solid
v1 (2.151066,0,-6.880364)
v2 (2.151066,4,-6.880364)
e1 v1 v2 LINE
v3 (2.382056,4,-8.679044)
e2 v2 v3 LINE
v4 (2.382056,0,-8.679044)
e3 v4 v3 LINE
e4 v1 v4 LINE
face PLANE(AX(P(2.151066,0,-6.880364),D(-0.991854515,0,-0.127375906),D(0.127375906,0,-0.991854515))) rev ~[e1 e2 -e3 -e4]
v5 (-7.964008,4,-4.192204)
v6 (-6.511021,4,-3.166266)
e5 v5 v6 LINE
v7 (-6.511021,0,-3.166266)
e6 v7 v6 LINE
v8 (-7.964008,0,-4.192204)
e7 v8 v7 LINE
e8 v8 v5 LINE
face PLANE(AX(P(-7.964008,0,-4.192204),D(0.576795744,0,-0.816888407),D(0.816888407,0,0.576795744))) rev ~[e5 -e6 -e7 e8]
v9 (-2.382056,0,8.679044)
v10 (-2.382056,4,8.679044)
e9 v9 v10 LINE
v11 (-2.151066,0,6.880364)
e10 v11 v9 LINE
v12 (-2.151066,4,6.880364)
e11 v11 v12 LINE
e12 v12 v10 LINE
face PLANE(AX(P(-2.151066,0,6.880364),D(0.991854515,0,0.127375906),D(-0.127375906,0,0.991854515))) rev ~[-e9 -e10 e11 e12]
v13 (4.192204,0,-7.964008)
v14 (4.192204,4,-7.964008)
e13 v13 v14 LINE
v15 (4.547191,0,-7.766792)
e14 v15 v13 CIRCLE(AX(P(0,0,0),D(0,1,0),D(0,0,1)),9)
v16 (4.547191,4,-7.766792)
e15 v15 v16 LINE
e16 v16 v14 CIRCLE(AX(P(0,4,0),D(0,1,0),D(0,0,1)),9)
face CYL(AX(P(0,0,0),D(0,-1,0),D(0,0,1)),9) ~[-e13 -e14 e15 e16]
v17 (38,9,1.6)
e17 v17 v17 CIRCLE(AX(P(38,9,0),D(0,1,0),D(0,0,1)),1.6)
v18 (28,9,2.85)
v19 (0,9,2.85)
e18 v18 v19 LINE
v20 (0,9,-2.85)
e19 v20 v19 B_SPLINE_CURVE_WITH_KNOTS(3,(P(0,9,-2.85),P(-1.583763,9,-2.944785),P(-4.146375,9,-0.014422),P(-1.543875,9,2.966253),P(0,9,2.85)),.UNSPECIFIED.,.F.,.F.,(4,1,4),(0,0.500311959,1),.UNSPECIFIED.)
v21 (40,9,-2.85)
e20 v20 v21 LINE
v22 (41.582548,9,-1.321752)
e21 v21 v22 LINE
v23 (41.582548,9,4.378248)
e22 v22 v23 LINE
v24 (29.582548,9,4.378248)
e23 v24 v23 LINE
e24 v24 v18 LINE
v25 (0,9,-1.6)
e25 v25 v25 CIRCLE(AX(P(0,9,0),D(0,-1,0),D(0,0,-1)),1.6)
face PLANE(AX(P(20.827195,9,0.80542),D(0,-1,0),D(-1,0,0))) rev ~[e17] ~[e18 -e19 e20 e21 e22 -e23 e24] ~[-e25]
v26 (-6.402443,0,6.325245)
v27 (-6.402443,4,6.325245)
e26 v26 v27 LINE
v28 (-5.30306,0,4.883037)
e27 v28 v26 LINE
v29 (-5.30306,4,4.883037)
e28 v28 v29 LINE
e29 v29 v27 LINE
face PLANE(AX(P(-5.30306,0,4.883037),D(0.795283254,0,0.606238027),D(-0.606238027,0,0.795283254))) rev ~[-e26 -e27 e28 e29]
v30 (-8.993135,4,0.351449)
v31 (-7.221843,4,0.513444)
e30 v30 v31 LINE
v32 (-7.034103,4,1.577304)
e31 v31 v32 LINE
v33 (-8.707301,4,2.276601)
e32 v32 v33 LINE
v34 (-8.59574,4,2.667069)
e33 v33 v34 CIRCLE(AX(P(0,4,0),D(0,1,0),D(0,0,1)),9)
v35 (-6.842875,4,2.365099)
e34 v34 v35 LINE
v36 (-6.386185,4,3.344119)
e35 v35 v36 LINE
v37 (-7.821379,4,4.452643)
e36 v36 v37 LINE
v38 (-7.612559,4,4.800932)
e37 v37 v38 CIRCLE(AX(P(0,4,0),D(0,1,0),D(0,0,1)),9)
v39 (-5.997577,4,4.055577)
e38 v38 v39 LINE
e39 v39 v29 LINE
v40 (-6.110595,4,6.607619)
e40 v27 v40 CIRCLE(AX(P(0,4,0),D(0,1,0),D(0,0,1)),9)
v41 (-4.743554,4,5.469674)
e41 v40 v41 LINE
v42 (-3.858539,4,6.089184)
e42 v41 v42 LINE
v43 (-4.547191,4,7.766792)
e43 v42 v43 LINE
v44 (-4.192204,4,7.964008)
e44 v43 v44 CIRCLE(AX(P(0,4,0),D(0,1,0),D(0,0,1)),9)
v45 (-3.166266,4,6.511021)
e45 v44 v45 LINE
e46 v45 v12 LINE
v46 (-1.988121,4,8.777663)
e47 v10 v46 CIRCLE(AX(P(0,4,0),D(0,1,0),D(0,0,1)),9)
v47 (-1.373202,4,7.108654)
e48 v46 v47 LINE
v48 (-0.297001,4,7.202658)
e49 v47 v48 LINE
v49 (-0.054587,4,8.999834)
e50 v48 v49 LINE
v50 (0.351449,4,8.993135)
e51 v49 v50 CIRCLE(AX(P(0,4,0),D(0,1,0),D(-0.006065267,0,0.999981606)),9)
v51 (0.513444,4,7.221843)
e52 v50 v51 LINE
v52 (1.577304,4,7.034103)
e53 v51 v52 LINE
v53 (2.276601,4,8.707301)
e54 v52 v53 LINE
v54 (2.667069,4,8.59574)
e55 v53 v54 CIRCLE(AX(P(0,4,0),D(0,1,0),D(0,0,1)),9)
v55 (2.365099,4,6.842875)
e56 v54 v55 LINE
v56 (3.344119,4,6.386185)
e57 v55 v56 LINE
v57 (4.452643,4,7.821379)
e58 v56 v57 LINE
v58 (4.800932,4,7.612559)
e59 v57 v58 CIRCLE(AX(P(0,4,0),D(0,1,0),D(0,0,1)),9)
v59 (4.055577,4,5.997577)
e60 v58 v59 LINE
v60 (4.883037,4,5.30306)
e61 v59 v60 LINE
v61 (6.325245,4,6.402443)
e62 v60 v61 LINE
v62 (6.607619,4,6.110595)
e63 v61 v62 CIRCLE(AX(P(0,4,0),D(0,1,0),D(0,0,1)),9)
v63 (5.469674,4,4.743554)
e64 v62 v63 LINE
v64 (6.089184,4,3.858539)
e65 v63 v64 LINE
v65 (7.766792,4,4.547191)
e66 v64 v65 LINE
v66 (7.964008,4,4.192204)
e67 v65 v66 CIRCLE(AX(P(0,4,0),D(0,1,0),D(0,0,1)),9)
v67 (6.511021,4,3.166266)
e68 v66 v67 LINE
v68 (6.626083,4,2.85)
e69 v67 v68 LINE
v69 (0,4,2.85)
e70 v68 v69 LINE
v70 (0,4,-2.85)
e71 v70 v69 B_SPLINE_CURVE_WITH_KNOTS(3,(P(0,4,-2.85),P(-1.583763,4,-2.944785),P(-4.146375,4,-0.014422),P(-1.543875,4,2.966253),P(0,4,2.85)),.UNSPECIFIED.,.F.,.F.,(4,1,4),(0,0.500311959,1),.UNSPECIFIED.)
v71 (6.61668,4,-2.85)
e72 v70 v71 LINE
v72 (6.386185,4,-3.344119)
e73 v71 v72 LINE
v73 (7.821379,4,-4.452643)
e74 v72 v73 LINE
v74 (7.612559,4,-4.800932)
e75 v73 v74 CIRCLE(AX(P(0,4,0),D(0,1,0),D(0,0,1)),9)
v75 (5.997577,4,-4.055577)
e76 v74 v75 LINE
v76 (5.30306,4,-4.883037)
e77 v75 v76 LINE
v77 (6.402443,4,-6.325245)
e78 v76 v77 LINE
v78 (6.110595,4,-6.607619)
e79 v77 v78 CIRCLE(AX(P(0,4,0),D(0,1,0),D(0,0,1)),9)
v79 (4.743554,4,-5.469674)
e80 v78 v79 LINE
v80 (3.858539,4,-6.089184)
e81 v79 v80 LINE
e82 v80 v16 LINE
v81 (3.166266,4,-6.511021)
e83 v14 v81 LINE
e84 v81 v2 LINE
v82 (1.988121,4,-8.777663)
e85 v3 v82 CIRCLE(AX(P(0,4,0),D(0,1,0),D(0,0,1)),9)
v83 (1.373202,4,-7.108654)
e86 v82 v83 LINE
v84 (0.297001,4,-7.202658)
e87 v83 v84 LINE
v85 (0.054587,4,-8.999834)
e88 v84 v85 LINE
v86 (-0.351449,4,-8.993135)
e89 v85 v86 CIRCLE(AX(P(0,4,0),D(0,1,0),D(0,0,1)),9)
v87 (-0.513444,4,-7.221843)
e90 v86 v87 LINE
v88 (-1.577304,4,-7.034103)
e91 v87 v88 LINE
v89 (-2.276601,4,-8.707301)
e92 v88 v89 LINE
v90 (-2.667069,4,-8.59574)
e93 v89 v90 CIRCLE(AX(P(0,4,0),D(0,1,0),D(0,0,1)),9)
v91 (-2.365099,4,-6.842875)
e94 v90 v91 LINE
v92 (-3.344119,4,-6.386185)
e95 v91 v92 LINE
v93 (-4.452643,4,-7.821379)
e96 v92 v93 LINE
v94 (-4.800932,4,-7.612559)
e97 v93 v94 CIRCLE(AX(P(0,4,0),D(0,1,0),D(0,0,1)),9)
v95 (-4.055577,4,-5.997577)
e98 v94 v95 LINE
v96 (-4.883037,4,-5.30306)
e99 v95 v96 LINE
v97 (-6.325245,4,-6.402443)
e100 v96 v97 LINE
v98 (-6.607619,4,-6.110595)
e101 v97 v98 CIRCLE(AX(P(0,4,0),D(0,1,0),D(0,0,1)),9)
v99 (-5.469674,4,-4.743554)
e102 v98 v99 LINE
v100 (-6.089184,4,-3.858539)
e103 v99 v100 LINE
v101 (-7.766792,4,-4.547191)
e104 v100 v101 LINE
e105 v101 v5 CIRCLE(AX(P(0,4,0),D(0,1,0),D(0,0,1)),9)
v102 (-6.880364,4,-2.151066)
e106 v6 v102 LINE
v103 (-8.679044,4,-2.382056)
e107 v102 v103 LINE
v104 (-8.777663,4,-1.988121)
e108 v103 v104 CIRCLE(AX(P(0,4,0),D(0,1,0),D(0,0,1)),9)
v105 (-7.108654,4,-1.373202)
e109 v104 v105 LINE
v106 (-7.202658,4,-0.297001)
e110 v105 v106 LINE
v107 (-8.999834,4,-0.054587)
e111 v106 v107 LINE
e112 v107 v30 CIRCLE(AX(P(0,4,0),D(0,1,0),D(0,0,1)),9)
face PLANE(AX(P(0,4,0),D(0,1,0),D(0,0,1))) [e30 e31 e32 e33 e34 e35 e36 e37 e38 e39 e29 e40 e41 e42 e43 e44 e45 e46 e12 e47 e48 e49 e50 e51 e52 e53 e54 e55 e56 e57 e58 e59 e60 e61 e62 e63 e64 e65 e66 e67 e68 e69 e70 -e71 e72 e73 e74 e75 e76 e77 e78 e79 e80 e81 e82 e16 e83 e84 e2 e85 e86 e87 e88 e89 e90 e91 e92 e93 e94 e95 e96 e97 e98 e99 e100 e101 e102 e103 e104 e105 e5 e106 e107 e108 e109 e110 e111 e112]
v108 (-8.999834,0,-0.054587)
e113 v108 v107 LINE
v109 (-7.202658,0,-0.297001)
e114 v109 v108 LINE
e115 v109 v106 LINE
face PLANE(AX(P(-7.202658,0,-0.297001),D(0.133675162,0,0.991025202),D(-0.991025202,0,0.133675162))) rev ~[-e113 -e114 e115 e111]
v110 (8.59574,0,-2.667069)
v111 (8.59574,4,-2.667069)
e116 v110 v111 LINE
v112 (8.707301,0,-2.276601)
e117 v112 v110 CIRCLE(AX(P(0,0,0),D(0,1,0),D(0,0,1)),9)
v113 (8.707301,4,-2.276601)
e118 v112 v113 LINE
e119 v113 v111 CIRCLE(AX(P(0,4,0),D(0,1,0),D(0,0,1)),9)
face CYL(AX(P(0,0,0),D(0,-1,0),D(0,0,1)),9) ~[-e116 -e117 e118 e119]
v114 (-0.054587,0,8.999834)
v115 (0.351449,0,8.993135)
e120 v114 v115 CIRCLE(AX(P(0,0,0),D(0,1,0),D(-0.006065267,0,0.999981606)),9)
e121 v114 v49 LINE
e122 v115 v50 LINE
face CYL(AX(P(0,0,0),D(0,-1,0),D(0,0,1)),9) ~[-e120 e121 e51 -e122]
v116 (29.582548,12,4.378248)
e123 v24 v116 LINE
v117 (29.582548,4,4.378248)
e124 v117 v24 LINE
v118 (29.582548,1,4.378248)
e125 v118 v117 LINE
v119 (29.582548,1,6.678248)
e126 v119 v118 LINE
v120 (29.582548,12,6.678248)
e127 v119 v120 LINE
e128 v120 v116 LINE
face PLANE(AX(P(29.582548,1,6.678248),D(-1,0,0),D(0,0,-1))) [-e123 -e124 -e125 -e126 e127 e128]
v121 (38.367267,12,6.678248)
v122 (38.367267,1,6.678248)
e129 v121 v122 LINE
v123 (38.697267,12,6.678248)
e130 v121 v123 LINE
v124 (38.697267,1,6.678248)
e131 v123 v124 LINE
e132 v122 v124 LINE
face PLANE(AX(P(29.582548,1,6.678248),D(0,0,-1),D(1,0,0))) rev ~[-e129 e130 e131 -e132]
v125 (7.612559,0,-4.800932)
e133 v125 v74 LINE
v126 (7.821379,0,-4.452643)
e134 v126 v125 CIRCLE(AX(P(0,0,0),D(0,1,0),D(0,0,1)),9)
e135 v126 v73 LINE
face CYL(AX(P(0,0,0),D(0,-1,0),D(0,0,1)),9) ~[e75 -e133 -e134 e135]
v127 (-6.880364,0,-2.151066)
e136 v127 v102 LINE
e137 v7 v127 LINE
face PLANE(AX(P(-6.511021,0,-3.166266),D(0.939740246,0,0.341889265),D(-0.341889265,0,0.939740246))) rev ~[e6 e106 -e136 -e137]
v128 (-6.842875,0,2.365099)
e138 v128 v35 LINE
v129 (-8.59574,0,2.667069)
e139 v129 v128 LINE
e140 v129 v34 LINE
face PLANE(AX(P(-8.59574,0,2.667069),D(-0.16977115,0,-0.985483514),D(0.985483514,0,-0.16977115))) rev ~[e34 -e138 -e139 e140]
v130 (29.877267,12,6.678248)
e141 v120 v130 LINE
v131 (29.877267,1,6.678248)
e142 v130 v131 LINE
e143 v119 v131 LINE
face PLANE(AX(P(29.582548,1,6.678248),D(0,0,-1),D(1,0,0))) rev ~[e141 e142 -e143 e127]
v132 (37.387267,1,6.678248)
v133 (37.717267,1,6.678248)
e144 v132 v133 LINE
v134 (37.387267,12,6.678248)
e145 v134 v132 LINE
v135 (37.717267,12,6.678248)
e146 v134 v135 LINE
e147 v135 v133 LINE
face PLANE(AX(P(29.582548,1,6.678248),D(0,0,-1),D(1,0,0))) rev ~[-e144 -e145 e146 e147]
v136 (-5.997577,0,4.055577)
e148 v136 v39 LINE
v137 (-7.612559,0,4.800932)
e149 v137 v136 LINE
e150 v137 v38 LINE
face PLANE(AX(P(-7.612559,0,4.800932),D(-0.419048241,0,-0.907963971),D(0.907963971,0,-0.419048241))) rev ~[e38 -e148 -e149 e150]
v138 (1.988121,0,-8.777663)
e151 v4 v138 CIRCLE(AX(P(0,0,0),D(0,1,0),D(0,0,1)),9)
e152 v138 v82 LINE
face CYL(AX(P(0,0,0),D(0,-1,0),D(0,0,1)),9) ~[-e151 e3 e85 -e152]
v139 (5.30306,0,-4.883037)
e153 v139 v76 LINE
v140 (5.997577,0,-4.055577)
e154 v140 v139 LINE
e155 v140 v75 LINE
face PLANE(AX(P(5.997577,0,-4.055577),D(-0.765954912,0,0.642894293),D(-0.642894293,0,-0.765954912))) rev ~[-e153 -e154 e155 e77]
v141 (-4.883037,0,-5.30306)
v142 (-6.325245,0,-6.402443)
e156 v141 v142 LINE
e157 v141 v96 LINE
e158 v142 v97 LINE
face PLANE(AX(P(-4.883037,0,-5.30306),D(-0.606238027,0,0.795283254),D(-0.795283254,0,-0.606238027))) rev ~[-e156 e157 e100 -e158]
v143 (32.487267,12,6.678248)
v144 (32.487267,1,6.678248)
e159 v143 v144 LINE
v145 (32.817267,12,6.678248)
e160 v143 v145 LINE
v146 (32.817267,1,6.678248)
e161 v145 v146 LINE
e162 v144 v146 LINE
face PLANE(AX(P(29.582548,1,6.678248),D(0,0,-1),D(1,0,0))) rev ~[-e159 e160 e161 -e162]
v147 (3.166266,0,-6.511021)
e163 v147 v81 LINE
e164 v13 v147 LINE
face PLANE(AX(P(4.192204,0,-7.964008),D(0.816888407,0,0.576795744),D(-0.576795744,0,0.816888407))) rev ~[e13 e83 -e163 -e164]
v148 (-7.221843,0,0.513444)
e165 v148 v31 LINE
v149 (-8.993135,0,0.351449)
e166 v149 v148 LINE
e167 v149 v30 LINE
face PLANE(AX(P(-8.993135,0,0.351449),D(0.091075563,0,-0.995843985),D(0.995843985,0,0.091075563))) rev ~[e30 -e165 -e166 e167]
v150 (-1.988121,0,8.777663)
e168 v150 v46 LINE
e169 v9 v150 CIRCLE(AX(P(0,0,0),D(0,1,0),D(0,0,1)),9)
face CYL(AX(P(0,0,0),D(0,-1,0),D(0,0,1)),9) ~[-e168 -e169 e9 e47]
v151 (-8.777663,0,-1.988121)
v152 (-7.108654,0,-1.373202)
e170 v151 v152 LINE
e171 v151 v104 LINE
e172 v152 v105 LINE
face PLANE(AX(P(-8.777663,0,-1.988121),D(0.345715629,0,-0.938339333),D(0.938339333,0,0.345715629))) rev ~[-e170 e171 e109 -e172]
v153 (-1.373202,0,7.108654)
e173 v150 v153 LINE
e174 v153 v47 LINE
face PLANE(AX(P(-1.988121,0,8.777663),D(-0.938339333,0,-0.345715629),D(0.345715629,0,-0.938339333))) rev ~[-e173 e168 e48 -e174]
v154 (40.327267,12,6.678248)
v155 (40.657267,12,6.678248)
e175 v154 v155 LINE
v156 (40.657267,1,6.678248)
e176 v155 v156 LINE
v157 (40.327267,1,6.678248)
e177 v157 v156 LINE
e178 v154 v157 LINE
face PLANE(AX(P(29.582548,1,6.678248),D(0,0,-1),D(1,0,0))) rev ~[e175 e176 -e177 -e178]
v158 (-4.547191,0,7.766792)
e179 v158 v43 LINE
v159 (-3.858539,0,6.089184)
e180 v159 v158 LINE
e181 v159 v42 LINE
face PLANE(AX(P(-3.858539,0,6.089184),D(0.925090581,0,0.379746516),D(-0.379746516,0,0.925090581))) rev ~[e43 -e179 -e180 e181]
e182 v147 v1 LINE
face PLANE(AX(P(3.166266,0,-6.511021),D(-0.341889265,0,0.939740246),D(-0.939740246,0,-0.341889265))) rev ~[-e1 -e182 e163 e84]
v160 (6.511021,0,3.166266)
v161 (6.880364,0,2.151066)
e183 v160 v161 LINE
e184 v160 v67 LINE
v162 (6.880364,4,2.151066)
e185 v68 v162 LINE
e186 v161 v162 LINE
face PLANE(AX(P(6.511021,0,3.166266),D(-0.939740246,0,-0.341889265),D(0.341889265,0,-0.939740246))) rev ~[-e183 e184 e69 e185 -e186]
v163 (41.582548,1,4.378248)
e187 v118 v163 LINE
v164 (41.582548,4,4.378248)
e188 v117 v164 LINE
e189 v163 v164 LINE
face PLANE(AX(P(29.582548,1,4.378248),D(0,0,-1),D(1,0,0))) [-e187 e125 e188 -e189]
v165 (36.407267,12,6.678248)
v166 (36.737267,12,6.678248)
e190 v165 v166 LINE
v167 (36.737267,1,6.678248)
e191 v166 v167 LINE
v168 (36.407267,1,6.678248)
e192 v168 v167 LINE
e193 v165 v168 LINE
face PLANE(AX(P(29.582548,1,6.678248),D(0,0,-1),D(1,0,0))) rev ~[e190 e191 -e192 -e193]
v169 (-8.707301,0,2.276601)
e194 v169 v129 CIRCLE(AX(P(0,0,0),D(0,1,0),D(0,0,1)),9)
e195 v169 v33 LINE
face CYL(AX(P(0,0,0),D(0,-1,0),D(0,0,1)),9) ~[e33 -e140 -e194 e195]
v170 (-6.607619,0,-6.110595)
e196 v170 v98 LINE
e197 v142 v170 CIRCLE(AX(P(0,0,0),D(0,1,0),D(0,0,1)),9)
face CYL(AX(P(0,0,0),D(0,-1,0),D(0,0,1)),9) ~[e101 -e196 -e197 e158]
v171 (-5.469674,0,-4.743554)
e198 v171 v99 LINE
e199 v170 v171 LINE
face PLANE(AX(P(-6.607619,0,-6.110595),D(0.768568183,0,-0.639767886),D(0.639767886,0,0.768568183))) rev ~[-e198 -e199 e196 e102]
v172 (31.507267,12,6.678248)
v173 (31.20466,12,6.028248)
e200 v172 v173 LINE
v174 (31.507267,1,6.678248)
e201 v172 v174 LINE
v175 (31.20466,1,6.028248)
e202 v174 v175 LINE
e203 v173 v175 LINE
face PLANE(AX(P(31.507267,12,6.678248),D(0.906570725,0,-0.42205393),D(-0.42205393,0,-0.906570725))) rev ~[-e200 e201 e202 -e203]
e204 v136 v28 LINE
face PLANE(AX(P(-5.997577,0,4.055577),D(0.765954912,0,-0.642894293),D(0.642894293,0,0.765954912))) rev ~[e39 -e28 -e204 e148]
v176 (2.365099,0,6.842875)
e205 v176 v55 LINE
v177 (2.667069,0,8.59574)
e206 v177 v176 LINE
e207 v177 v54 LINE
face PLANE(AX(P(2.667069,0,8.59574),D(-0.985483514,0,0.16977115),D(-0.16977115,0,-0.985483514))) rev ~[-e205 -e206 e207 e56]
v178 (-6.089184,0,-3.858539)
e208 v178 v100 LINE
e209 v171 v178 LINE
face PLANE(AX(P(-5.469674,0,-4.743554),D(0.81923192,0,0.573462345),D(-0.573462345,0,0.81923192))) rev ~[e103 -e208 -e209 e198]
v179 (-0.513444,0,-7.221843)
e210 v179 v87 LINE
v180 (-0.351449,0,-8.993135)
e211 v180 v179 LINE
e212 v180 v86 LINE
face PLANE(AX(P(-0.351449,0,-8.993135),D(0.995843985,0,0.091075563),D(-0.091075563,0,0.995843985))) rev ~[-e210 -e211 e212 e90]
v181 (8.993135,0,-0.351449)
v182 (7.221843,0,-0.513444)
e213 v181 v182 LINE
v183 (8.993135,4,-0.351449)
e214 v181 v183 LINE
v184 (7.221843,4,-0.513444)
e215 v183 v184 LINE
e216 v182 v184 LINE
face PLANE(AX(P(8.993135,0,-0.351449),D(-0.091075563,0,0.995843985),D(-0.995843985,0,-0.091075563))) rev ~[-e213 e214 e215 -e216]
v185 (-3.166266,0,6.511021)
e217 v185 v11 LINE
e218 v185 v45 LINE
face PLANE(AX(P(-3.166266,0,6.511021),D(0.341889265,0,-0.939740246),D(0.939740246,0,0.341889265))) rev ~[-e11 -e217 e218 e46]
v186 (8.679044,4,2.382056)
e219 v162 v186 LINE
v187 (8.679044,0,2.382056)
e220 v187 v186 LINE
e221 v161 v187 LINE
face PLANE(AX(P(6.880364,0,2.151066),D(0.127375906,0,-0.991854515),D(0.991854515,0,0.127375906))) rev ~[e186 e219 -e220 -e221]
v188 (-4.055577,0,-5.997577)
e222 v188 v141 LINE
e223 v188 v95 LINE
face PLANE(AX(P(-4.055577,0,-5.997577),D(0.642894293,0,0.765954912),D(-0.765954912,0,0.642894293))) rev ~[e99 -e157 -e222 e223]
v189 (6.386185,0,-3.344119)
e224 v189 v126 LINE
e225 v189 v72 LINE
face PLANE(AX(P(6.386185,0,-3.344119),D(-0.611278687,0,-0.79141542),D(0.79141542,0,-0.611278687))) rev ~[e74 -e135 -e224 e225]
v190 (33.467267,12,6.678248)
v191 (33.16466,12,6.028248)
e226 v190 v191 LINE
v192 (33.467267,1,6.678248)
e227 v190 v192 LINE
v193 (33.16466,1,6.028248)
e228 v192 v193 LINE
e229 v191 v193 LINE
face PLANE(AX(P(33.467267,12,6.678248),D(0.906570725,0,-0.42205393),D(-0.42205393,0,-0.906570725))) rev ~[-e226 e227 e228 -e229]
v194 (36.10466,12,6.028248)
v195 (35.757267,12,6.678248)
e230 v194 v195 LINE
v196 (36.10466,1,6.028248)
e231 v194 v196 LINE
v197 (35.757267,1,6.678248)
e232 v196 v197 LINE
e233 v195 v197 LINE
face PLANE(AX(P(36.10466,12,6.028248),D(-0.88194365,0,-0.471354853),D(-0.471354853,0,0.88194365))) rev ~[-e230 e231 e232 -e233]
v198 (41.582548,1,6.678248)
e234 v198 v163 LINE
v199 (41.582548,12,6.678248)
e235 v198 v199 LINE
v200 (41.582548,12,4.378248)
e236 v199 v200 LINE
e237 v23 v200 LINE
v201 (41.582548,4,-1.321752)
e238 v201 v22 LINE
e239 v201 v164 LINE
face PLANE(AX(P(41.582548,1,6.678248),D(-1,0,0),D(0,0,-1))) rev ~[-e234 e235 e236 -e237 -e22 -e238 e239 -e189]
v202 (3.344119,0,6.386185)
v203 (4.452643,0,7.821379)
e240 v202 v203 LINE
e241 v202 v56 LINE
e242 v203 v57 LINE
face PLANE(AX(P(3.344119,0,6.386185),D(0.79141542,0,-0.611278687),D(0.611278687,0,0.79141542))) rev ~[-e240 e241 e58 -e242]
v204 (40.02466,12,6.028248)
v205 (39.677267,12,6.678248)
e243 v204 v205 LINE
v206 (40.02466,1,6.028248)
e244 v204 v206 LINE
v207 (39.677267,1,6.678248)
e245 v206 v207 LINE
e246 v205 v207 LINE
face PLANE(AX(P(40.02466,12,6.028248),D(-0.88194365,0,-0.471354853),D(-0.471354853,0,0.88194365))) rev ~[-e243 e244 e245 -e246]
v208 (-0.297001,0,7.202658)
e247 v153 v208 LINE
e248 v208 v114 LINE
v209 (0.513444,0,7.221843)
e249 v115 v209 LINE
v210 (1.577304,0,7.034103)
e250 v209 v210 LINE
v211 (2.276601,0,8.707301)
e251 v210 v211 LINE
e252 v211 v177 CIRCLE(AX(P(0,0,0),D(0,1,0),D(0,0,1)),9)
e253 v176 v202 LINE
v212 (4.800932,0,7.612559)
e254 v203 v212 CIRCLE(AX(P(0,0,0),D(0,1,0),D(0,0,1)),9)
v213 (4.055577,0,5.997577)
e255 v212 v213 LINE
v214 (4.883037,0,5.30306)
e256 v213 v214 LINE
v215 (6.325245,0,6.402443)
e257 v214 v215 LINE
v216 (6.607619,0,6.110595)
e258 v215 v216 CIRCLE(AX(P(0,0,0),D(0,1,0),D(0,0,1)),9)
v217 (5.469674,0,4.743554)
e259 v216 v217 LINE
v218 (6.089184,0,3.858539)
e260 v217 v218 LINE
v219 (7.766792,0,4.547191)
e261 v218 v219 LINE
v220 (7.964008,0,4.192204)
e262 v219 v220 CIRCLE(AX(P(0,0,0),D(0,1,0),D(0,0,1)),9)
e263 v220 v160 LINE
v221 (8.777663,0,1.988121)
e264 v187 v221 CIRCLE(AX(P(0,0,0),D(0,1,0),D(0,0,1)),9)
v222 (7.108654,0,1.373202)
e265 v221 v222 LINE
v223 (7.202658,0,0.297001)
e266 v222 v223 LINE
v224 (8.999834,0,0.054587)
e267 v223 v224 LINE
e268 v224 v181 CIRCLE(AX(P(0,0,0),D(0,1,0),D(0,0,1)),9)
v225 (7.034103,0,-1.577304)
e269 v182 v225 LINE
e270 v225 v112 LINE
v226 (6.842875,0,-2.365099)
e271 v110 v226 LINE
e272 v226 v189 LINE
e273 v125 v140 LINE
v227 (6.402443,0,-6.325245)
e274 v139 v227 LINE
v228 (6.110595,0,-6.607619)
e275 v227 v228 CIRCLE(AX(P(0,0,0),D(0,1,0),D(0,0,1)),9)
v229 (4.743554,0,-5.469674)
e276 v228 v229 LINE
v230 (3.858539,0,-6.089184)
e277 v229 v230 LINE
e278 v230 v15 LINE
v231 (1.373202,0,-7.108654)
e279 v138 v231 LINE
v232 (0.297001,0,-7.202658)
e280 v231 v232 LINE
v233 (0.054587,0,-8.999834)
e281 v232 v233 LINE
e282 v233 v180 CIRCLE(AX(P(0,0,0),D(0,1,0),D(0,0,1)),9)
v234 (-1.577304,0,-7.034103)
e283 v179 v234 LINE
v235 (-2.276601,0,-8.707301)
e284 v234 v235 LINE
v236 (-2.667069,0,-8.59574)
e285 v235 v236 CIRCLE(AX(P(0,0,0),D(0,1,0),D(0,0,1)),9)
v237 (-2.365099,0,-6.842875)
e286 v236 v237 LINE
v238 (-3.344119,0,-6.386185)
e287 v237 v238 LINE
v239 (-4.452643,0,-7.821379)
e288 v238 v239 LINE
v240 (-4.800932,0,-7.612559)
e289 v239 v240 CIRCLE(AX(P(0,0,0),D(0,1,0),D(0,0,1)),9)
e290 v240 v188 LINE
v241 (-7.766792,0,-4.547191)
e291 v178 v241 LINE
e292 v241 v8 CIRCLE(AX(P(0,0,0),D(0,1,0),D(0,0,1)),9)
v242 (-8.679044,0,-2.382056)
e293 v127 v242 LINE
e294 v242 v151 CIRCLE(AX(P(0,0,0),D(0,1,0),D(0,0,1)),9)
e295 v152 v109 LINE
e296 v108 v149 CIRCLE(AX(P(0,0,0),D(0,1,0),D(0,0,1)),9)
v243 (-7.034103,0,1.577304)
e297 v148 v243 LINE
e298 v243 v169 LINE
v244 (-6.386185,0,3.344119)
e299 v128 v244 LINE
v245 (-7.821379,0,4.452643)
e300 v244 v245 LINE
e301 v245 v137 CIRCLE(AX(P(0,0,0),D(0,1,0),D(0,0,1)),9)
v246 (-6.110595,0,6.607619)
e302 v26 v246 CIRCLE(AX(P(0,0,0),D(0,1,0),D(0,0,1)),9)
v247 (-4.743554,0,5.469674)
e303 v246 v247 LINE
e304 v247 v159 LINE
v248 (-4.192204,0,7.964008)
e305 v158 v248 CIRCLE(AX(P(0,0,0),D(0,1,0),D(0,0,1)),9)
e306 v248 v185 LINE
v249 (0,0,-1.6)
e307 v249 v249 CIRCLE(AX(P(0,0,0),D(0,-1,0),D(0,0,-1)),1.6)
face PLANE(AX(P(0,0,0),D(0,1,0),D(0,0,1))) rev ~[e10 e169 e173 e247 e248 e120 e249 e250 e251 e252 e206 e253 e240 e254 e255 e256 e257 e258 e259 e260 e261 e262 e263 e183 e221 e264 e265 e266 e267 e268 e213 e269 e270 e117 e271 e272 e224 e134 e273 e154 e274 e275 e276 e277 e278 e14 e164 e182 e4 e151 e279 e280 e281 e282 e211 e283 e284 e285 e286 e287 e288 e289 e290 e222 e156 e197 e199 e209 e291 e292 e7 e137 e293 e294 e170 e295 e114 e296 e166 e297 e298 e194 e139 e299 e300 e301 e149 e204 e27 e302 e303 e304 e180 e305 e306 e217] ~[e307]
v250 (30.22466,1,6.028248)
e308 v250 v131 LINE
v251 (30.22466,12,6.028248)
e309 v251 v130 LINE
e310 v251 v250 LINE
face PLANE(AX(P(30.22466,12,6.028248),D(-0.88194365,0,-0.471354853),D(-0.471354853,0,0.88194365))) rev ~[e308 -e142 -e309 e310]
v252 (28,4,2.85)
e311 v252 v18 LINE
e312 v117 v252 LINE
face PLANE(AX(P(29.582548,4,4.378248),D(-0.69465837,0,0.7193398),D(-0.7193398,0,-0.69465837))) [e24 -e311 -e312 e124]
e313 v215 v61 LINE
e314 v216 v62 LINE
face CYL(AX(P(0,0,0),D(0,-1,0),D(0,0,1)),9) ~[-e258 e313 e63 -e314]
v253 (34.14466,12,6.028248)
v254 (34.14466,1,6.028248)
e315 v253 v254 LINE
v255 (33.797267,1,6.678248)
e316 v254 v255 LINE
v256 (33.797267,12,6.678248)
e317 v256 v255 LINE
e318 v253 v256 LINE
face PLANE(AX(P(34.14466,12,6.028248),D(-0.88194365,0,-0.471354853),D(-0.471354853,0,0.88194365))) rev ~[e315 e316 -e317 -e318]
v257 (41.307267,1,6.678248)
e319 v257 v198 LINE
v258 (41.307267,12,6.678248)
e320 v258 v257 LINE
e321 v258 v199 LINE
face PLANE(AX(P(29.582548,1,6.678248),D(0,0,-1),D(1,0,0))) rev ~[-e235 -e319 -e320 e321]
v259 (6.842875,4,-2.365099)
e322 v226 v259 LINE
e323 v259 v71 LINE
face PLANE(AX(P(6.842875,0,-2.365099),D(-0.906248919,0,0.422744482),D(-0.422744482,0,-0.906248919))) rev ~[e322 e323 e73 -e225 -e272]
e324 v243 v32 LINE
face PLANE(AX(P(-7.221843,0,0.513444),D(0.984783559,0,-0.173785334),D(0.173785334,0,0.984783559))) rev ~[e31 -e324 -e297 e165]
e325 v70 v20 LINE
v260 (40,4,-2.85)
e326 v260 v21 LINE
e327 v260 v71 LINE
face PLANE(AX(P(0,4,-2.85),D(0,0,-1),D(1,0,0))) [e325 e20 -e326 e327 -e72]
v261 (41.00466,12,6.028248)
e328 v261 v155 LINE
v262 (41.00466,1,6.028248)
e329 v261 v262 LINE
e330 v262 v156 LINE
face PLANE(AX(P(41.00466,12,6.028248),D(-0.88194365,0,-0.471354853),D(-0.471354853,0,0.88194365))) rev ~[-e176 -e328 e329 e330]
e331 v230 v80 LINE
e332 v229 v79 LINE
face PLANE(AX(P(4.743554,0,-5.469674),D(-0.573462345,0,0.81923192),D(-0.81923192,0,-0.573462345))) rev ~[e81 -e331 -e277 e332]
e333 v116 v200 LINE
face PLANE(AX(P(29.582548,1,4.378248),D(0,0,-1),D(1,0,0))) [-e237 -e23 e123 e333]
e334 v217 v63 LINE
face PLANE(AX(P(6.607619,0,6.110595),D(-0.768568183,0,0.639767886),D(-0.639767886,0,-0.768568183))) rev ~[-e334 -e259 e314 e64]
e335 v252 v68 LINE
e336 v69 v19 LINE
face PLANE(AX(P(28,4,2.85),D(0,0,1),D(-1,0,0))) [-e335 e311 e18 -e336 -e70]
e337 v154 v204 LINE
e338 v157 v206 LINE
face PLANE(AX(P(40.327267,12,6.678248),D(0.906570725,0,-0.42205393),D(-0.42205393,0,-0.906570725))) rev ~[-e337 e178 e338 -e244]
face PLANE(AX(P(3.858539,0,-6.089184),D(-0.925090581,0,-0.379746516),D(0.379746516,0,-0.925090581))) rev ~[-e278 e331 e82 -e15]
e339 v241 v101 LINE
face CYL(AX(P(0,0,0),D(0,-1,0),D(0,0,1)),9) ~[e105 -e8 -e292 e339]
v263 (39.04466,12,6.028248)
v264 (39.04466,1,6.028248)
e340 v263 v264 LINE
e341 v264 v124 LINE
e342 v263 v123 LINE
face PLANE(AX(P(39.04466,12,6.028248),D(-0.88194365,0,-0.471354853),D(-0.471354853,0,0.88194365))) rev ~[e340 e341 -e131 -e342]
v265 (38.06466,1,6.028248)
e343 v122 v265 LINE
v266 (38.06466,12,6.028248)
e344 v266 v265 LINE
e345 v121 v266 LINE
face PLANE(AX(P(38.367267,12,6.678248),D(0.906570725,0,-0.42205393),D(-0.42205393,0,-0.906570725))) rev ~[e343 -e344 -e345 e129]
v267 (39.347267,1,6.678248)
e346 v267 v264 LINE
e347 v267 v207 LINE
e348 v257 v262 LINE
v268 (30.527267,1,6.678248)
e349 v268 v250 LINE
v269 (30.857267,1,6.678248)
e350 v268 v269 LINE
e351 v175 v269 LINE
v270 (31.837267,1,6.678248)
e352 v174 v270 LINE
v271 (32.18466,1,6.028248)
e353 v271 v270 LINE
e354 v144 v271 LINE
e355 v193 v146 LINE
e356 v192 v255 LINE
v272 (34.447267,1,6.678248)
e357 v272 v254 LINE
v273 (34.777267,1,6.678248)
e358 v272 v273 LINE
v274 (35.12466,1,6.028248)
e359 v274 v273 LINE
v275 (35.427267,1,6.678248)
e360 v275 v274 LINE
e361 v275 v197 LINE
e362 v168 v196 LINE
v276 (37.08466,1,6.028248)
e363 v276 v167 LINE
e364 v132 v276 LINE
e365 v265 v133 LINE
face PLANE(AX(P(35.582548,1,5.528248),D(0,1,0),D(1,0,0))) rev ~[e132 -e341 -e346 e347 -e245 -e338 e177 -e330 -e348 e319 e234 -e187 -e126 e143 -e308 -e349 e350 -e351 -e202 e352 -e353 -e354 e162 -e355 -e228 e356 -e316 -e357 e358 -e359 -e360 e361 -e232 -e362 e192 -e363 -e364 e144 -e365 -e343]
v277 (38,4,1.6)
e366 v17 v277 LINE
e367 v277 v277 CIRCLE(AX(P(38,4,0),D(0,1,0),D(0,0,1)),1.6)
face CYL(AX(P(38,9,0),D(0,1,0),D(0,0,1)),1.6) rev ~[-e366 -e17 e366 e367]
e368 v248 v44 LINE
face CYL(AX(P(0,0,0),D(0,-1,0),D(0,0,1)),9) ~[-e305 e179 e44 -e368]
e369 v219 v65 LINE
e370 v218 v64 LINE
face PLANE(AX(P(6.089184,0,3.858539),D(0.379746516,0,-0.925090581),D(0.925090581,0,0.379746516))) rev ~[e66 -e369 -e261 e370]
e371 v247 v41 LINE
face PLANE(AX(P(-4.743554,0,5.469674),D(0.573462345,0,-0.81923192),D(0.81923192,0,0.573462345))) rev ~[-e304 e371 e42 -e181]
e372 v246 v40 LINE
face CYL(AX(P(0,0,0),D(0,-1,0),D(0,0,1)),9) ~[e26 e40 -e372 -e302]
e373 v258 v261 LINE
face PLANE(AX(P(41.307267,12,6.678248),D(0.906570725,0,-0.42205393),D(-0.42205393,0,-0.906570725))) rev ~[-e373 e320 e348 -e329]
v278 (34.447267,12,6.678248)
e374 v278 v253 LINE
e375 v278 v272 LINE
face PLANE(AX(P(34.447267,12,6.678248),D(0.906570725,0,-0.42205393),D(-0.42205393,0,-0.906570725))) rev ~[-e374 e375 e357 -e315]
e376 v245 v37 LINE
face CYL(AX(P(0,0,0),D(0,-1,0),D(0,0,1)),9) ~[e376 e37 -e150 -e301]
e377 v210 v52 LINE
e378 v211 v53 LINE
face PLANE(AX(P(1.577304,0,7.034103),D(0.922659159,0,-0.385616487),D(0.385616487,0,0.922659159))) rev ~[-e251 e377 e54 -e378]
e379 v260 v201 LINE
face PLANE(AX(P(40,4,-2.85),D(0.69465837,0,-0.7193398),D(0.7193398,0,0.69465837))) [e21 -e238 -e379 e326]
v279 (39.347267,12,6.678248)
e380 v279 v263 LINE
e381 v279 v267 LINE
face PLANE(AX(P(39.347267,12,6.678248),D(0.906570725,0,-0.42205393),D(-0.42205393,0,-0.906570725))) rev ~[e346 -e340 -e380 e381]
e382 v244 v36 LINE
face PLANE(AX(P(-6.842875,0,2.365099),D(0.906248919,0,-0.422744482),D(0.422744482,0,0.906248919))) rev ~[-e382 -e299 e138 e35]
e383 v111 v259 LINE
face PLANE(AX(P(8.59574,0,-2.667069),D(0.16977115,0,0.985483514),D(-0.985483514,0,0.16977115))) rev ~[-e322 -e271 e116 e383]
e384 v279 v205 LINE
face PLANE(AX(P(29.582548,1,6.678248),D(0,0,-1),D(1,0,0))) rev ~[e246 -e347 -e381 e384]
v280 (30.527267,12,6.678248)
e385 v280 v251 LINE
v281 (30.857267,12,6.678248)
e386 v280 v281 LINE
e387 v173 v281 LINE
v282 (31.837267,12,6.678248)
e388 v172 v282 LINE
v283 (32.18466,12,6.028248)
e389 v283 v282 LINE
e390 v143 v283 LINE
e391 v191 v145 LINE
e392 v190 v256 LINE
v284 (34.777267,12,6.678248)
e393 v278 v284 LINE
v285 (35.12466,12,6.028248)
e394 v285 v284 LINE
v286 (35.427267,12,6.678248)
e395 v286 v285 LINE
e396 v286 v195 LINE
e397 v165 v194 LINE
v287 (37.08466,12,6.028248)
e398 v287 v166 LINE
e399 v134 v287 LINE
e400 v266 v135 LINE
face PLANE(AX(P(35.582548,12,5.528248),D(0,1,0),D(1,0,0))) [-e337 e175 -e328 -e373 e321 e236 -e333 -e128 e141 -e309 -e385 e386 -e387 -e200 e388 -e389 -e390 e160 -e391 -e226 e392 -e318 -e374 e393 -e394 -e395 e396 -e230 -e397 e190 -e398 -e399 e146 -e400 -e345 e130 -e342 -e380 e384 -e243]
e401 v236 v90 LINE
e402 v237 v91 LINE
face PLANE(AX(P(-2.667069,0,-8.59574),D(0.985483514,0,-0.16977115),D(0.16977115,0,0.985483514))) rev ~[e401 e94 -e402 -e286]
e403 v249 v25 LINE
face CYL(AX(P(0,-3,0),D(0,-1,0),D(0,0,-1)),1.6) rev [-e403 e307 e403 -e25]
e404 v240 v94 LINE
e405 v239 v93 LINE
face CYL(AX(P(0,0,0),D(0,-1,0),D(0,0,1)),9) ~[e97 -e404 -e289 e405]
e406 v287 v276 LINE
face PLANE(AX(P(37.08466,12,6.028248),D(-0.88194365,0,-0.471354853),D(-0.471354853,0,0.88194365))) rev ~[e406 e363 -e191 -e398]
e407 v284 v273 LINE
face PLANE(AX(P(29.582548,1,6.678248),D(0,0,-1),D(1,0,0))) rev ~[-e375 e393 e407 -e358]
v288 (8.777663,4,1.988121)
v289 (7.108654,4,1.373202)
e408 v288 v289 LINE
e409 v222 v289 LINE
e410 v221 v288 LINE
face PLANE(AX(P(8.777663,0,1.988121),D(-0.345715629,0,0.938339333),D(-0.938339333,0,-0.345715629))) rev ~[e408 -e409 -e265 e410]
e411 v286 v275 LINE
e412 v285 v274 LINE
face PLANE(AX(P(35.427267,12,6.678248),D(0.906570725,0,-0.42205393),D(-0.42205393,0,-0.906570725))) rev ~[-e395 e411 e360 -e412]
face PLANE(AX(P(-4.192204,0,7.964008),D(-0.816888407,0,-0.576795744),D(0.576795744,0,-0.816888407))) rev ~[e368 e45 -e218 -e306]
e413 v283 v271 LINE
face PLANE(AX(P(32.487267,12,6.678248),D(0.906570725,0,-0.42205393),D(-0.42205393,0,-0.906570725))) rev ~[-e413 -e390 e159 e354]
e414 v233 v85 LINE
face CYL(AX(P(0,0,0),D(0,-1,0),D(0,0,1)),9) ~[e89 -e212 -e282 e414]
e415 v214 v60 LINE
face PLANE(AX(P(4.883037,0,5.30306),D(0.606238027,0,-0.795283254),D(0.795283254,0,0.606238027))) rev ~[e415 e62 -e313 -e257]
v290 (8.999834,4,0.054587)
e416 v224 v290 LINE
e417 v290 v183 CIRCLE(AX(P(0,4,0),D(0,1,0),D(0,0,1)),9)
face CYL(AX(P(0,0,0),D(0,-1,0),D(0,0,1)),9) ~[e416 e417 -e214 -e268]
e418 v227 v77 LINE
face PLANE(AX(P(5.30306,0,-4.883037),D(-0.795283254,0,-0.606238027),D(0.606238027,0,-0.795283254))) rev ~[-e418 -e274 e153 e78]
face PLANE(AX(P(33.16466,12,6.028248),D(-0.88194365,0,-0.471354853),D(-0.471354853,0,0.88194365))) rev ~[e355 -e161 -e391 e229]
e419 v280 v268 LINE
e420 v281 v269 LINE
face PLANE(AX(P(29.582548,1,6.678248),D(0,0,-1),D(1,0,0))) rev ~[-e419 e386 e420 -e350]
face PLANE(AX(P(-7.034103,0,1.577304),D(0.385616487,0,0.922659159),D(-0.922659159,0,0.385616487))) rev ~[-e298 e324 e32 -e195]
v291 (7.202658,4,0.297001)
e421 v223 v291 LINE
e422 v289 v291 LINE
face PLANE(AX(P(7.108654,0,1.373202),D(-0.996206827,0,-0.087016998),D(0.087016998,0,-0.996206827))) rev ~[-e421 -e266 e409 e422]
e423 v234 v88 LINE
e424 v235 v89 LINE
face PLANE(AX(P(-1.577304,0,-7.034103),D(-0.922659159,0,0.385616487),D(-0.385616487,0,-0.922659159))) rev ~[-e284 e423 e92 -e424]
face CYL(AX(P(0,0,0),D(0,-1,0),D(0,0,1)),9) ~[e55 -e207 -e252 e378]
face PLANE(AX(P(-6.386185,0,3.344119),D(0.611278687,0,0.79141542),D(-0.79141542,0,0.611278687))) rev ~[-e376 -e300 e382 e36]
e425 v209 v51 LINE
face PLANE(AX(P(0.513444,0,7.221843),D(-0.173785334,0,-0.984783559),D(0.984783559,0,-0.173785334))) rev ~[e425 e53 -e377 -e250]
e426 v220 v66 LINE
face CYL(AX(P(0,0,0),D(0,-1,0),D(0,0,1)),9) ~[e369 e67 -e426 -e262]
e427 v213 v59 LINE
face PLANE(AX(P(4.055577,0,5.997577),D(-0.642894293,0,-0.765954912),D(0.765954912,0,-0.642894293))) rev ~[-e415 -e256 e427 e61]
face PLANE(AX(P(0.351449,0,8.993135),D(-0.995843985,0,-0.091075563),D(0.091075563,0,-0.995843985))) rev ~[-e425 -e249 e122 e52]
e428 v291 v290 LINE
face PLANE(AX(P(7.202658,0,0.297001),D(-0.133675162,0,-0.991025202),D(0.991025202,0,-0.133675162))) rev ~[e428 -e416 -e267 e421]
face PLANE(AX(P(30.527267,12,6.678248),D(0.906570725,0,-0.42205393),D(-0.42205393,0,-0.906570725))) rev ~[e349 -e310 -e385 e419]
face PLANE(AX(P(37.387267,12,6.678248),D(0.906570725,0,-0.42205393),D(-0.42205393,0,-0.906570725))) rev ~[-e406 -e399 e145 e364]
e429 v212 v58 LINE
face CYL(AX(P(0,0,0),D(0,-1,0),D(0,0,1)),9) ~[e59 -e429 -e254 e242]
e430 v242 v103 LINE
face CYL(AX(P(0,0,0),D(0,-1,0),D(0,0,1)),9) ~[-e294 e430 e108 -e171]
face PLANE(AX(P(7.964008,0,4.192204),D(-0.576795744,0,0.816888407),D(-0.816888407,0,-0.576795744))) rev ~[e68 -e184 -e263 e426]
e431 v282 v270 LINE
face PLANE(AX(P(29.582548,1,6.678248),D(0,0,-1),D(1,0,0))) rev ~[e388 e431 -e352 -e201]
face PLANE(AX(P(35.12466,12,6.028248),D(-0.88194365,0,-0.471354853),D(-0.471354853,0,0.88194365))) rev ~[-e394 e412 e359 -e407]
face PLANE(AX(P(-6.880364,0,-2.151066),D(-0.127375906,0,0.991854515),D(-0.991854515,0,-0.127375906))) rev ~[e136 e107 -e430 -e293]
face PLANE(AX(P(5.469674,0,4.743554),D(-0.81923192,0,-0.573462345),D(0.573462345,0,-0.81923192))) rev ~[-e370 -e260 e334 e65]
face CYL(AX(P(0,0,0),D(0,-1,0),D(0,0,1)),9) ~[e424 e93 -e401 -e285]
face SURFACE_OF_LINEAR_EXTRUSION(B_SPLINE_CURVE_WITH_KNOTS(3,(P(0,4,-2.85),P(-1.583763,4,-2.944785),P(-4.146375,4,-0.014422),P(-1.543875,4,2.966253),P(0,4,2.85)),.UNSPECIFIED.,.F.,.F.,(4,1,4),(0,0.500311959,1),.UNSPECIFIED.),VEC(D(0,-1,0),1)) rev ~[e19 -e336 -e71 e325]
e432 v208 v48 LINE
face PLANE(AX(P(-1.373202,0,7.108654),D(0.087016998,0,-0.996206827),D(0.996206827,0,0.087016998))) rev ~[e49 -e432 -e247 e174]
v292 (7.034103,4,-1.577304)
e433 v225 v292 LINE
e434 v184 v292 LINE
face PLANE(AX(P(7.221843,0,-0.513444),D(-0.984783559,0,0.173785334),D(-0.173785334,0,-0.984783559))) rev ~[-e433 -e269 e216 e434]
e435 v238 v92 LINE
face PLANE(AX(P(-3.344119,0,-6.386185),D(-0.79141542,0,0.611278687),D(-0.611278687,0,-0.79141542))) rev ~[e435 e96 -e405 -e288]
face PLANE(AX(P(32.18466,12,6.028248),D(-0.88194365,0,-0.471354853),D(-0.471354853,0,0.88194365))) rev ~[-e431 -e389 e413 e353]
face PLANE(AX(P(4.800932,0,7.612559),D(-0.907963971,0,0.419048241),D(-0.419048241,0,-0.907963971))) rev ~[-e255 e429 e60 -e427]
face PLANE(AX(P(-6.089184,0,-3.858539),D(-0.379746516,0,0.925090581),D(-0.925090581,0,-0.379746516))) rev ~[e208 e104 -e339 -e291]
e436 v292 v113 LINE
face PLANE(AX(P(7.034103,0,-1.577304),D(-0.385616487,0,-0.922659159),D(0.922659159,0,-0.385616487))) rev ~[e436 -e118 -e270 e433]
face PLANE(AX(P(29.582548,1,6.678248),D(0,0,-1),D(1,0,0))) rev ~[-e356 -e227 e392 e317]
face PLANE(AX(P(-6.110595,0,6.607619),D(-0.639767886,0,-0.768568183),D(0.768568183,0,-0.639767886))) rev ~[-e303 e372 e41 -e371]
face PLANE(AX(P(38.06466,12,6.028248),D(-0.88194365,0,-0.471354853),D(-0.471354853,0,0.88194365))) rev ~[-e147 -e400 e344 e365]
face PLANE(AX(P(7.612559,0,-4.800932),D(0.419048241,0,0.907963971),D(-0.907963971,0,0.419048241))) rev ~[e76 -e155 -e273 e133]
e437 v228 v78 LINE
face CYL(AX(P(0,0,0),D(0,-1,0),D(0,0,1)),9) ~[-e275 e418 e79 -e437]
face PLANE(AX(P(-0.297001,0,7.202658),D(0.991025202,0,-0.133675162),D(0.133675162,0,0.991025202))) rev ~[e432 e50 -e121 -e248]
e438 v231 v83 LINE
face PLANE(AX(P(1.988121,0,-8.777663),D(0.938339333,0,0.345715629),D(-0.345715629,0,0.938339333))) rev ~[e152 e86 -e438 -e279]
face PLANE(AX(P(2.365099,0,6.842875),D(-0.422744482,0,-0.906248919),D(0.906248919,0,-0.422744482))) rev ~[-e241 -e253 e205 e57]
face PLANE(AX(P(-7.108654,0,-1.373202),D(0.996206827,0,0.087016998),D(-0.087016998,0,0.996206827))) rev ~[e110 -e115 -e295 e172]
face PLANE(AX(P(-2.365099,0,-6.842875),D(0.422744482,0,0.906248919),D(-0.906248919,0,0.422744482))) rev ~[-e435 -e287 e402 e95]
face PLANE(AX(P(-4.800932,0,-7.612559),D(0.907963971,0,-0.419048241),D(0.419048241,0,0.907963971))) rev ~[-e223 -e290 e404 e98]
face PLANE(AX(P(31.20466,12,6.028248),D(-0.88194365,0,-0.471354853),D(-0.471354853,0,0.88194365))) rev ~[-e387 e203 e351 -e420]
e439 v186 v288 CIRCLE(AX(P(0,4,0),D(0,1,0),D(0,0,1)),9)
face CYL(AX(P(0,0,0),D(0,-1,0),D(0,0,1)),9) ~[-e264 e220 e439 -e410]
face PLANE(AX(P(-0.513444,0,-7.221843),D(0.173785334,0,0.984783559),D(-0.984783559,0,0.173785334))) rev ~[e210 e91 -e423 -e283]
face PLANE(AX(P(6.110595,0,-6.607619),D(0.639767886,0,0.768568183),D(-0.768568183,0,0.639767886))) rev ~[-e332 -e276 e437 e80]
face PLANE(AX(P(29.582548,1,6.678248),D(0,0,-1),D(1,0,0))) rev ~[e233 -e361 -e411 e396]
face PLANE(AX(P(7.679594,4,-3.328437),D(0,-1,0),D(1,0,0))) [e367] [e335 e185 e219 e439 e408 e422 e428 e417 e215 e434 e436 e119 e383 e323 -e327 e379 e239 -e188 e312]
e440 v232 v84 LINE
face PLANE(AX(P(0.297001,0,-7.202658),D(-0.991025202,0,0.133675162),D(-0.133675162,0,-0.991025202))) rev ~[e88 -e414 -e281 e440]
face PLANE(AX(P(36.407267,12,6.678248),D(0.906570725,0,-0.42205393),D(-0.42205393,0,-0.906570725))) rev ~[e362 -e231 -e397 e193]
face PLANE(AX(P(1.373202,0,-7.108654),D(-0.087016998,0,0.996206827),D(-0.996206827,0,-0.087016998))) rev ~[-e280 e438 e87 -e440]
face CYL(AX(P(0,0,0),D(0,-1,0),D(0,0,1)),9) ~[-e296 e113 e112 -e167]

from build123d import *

# Parameters (mm, degrees)
ESQUISSE1_R                  = 9
BOSS_EXTRU_1_DEPTH           = 4
BOSS_EXTRU_2_DEPTH           = 5
ENL_V_MAT_EXTRU_1_DEPTH      = 4
ENL_V_MAT_EXTRU_2_DEPTH      = 3
ENL_V_MAT_EXTRU_2_DEPTH_BACK = 12
ESQUISSE4_R                  = 1.6
BOSS_EXTRU_3_DEPTH           = 3
BOSS_EXTRU_3_DEPTH_BACK      = 8
ESQUISSE5_W                  = 12
ESQUISSE5_H                  = 2.3
ENL_V_MAT_EXTRU_3_DEPTH      = 11
ESQUISSE7_R                  = 1.6
ENL_V_MAT_EXTRU_4_DEPTH      = 11


with BuildPart() as part:
    # Esquisse1 → Boss.-Extru.1 (new body)
    with BuildSketch(Plane(origin=(0, 0, 0), x_dir=(1, 0, 0), z_dir=(0, 1, 0))):
        with Locations(Location((0, 0, 0), (0, 0, 270))):
            Circle(ESQUISSE1_R)
    extrude(amount=BOSS_EXTRU_1_DEPTH)

    # Esquisse2 → Boss.-Extru.2 (add)
    with BuildSketch(Plane(origin=(0, 4, 0), x_dir=(1, 0, 0), z_dir=(0, 1, 0))):
        with BuildLine():
            Line((0, 2.85), (28, 2.85))
            Line((28, 2.85), (40, 2.85))
            Line((40, 2.85), (41.582547561, 1.321751585))
            Line((41.582547561, 1.321751585), (41.582547561, -6.678248415))
            Line((41.582547561, -6.678248415), (29.582547561, -6.678248415))
            Line((29.582547561, -6.678248415), (29.582547561, -4.378248415))
            Line((29.582547561, -4.378248415), (28, -2.85))
            Line((28, -2.85), (0, -2.85))
            add(Edge.make_bspline(
                [(0, 2.85), (-1.583763235, 2.944784931), (-4.146375178, 0.014422281), (-1.543874763, -2.966253476), (0, -2.85)],
                knots=[0, 0, 0, 0, 0.500311959, 1, 1, 1, 1], degree=3))
        make_face()
    extrude(amount=BOSS_EXTRU_2_DEPTH)

    # Esquisse3 → Enlèv. mat.-Extru.1 (cut)
    with BuildSketch(Plane.XZ):
        Polygon((0.351449311, 8.993135348), (0.513444021, 7.221842901), (1.577304258, 7.034102859), (2.276601179, 8.707300791), (1.416805586, 9.582955874), align=None)
        Polygon((3.344118704, 6.386185235), (4.452643151, 7.821378969), (3.848780595, 8.889728302), (2.667068669, 8.595739917), (2.365099324, 6.84287548), align=None)
        Polygon((4.883036987, 5.30305964), (6.325244851, 6.402443094), (6.018467567, 7.590680437), (4.800931705, 7.612559016), (4.055577016, 5.997577404), align=None)
        Polygon((6.089184369, 3.858539294), (7.766791567, 4.547191304), (7.77800592, 5.774340245), (6.607619179, 6.110594798), (5.469673837, 4.743554339), align=None)
        Polygon((6.880363898, 2.151065872), (8.679044273, 2.382055941), (9.007486024, 3.564488307), (7.964008326, 4.192203643), (6.511021425, 3.166265885), align=None)
        Polygon((7.202657999, 0.297000866), (8.999834455, 0.054587401), (9.62312084, 1.111722382), (8.777663467, 1.988120738), (7.108653663, 1.373201643), align=None)
        Polygon((7.034102859, -1.577304258), (8.707300791, -2.276601179), (9.582955874, -1.416805586), (8.993135348, -0.351449311), (7.221842901, -0.513444021), align=None)
        Polygon((6.386185235, -3.344118704), (7.821378969, -4.452643151), (8.889728302, -3.848780595), (8.595739917, -2.667068669), (6.84287548, -2.365099324), align=None)
        Polygon((5.30305964, -4.883036987), (6.402443094, -6.325244851), (7.590680437, -6.018467567), (7.612559016, -4.800931705), (5.997577404, -4.055577016), align=None)
        Polygon((3.858539294, -6.089184369), (4.547191304, -7.766791567), (5.774340245, -7.77800592), (6.110594798, -6.607619179), (4.743554339, -5.469673837), align=None)
        Polygon((2.151065872, -6.880363898), (2.382055941, -8.679044273), (3.564488307, -9.007486024), (4.192203643, -7.964008326), (3.166265885, -6.511021425), align=None)
        Polygon((0.297000866, -7.202657999), (0.054587401, -8.999834455), (1.111722382, -9.62312084), (1.988120738, -8.777663467), (1.373201643, -7.108653663), align=None)
        Polygon((-1.577304258, -7.034102859), (-2.276601179, -8.707300791), (-1.416805586, -9.582955874), (-0.351449311, -8.993135348), (-0.513444021, -7.221842901), align=None)
        Polygon((-3.344118704, -6.386185235), (-4.452643151, -7.821378969), (-3.848780595, -8.889728302), (-2.667068669, -8.595739917), (-2.365099324, -6.84287548), align=None)
        Polygon((-4.883036987, -5.30305964), (-6.325244851, -6.402443094), (-6.018467567, -7.590680437), (-4.800931705, -7.612559016), (-4.055577016, -5.997577404), align=None)
        Polygon((-6.089184369, -3.858539294), (-7.766791567, -4.547191304), (-7.77800592, -5.774340245), (-6.607619179, -6.110594798), (-5.469673837, -4.743554339), align=None)
        Polygon((-6.880363898, -2.151065872), (-8.679044273, -2.382055941), (-9.007486024, -3.564488307), (-7.964008326, -4.192203643), (-6.511021425, -3.166265885), align=None)
        Polygon((-7.202657999, -0.297000866), (-8.999834455, -0.054587401), (-9.62312084, -1.111722382), (-8.777663467, -1.988120738), (-7.108653663, -1.373201643), align=None)
        Polygon((-7.034102859, 1.577304258), (-8.707300791, 2.276601179), (-9.582955874, 1.416805586), (-8.993135348, 0.351449311), (-7.221842901, 0.513444021), align=None)
        Polygon((-6.386185235, 3.344118704), (-7.821378969, 4.452643151), (-8.889728302, 3.848780595), (-8.595739917, 2.667068669), (-6.84287548, 2.365099324), align=None)
        Polygon((-5.30305964, 4.883036987), (-6.402443094, 6.325244851), (-7.590680437, 6.018467567), (-7.612559016, 4.800931705), (-5.997577404, 4.055577016), align=None)
        Polygon((-3.858539294, 6.089184369), (-4.547191304, 7.766791567), (-5.774340245, 7.77800592), (-6.110594798, 6.607619179), (-4.743554339, 5.469673837), align=None)
        Polygon((-2.151065872, 6.880363898), (-2.382055941, 8.679044273), (-3.564488307, 9.007486024), (-4.192203643, 7.964008326), (-3.166265885, 6.511021425), align=None)
        Polygon((-0.297000866, 7.202657999), (-0.054587401, 8.999834455), (-1.111722382, 9.62312084), (-1.988120738, 8.777663467), (-1.373201643, 7.108653663), align=None)
    extrude(amount=-ENL_V_MAT_EXTRU_1_DEPTH, mode=Mode.SUBTRACT)

    # Esquisse4 → Enlèv. mat.-Extru.2 (cut, two sides: drawn at the far end of the back side and taken through both)
    with BuildSketch(Plane(origin=(0, 9, 0), x_dir=(1, 0, 0), z_dir=(0, 1, 0)).offset(-ENL_V_MAT_EXTRU_2_DEPTH_BACK)):
        with Locations(Location((0, 0, 0), (0, 0, 90))):
            Circle(ESQUISSE4_R)
    extrude(amount=ENL_V_MAT_EXTRU_2_DEPTH + ENL_V_MAT_EXTRU_2_DEPTH_BACK, mode=Mode.SUBTRACT)

    # Esquisse5 → Boss.-Extru.3 (add, two sides: drawn at the far end of the back side and taken through both)
    with BuildSketch(Plane(origin=(0, 9, 0), x_dir=(1, 0, 0), z_dir=(0, 1, 0)).offset(-BOSS_EXTRU_3_DEPTH_BACK)):
        with Locations((35.582547561, -5.528248415)):
            Rectangle(ESQUISSE5_W, ESQUISSE5_H)
    extrude(amount=BOSS_EXTRU_3_DEPTH + BOSS_EXTRU_3_DEPTH_BACK)

    # Esquisse6 → Enlèv. mat.-Extru.3 (cut)
    with BuildSketch(Plane(origin=(0, 12, 0), x_dir=(1, 0, 0), z_dir=(0, 1, 0))):
        Polygon((41.30726734, -6.678248415), (41.004659891, -6.028248415), (40.65726734, -6.678248415), (41.004659891, -7.030774788), align=None)
        Polygon((40.32726734, -6.678248415), (40.024659891, -6.028248415), (39.67726734, -6.678248415), (40.024659891, -7.030774788), align=None)
        Polygon((39.34726734, -6.678248415), (39.044659891, -6.028248415), (38.69726734, -6.678248415), (39.044659891, -7.030774788), align=None)
        Polygon((38.36726734, -6.678248415), (38.064659891, -6.028248415), (37.71726734, -6.678248415), (38.064659891, -7.030774788), align=None)
        Polygon((37.38726734, -6.678248415), (37.084659891, -6.028248415), (36.73726734, -6.678248415), (37.084659891, -7.030774788), align=None)
        Polygon((36.40726734, -6.678248415), (36.104659891, -6.028248415), (35.75726734, -6.678248415), (36.104659891, -7.030774788), align=None)
        Polygon((35.42726734, -6.678248415), (35.124659891, -6.028248415), (34.77726734, -6.678248415), (35.124659891, -7.030774788), align=None)
        Polygon((34.44726734, -6.678248415), (34.144659891, -6.028248415), (33.79726734, -6.678248415), (34.144659891, -7.030774788), align=None)
        Polygon((33.46726734, -6.678248415), (33.164659891, -6.028248415), (32.81726734, -6.678248415), (33.164659891, -7.030774788), align=None)
        Polygon((32.48726734, -6.678248415), (32.184659891, -6.028248415), (31.83726734, -6.678248415), (32.184659891, -7.030774788), align=None)
        Polygon((31.50726734, -6.678248415), (31.204659891, -6.028248415), (30.85726734, -6.678248415), (31.204659891, -7.030774788), align=None)
        Polygon((30.52726734, -6.678248415), (30.224659891, -6.028248415), (29.87726734, -6.678248415), (30.224659891, -7.030774788), align=None)
    extrude(amount=-ENL_V_MAT_EXTRU_3_DEPTH, mode=Mode.SUBTRACT)

    # Esquisse7 → Enlèv. mat.-Extru.4 (cut)
    with BuildSketch(Plane(origin=(0, 9, 0), x_dir=(1, 0, 0), z_dir=(0, 1, 0))):
        with Locations(Location((38, 0, 0), (0, 0, 270))):
            Circle(ESQUISSE7_R)
    extrude(amount=-ENL_V_MAT_EXTRU_4_DEPTH, mode=Mode.SUBTRACT)


solid = part.part
